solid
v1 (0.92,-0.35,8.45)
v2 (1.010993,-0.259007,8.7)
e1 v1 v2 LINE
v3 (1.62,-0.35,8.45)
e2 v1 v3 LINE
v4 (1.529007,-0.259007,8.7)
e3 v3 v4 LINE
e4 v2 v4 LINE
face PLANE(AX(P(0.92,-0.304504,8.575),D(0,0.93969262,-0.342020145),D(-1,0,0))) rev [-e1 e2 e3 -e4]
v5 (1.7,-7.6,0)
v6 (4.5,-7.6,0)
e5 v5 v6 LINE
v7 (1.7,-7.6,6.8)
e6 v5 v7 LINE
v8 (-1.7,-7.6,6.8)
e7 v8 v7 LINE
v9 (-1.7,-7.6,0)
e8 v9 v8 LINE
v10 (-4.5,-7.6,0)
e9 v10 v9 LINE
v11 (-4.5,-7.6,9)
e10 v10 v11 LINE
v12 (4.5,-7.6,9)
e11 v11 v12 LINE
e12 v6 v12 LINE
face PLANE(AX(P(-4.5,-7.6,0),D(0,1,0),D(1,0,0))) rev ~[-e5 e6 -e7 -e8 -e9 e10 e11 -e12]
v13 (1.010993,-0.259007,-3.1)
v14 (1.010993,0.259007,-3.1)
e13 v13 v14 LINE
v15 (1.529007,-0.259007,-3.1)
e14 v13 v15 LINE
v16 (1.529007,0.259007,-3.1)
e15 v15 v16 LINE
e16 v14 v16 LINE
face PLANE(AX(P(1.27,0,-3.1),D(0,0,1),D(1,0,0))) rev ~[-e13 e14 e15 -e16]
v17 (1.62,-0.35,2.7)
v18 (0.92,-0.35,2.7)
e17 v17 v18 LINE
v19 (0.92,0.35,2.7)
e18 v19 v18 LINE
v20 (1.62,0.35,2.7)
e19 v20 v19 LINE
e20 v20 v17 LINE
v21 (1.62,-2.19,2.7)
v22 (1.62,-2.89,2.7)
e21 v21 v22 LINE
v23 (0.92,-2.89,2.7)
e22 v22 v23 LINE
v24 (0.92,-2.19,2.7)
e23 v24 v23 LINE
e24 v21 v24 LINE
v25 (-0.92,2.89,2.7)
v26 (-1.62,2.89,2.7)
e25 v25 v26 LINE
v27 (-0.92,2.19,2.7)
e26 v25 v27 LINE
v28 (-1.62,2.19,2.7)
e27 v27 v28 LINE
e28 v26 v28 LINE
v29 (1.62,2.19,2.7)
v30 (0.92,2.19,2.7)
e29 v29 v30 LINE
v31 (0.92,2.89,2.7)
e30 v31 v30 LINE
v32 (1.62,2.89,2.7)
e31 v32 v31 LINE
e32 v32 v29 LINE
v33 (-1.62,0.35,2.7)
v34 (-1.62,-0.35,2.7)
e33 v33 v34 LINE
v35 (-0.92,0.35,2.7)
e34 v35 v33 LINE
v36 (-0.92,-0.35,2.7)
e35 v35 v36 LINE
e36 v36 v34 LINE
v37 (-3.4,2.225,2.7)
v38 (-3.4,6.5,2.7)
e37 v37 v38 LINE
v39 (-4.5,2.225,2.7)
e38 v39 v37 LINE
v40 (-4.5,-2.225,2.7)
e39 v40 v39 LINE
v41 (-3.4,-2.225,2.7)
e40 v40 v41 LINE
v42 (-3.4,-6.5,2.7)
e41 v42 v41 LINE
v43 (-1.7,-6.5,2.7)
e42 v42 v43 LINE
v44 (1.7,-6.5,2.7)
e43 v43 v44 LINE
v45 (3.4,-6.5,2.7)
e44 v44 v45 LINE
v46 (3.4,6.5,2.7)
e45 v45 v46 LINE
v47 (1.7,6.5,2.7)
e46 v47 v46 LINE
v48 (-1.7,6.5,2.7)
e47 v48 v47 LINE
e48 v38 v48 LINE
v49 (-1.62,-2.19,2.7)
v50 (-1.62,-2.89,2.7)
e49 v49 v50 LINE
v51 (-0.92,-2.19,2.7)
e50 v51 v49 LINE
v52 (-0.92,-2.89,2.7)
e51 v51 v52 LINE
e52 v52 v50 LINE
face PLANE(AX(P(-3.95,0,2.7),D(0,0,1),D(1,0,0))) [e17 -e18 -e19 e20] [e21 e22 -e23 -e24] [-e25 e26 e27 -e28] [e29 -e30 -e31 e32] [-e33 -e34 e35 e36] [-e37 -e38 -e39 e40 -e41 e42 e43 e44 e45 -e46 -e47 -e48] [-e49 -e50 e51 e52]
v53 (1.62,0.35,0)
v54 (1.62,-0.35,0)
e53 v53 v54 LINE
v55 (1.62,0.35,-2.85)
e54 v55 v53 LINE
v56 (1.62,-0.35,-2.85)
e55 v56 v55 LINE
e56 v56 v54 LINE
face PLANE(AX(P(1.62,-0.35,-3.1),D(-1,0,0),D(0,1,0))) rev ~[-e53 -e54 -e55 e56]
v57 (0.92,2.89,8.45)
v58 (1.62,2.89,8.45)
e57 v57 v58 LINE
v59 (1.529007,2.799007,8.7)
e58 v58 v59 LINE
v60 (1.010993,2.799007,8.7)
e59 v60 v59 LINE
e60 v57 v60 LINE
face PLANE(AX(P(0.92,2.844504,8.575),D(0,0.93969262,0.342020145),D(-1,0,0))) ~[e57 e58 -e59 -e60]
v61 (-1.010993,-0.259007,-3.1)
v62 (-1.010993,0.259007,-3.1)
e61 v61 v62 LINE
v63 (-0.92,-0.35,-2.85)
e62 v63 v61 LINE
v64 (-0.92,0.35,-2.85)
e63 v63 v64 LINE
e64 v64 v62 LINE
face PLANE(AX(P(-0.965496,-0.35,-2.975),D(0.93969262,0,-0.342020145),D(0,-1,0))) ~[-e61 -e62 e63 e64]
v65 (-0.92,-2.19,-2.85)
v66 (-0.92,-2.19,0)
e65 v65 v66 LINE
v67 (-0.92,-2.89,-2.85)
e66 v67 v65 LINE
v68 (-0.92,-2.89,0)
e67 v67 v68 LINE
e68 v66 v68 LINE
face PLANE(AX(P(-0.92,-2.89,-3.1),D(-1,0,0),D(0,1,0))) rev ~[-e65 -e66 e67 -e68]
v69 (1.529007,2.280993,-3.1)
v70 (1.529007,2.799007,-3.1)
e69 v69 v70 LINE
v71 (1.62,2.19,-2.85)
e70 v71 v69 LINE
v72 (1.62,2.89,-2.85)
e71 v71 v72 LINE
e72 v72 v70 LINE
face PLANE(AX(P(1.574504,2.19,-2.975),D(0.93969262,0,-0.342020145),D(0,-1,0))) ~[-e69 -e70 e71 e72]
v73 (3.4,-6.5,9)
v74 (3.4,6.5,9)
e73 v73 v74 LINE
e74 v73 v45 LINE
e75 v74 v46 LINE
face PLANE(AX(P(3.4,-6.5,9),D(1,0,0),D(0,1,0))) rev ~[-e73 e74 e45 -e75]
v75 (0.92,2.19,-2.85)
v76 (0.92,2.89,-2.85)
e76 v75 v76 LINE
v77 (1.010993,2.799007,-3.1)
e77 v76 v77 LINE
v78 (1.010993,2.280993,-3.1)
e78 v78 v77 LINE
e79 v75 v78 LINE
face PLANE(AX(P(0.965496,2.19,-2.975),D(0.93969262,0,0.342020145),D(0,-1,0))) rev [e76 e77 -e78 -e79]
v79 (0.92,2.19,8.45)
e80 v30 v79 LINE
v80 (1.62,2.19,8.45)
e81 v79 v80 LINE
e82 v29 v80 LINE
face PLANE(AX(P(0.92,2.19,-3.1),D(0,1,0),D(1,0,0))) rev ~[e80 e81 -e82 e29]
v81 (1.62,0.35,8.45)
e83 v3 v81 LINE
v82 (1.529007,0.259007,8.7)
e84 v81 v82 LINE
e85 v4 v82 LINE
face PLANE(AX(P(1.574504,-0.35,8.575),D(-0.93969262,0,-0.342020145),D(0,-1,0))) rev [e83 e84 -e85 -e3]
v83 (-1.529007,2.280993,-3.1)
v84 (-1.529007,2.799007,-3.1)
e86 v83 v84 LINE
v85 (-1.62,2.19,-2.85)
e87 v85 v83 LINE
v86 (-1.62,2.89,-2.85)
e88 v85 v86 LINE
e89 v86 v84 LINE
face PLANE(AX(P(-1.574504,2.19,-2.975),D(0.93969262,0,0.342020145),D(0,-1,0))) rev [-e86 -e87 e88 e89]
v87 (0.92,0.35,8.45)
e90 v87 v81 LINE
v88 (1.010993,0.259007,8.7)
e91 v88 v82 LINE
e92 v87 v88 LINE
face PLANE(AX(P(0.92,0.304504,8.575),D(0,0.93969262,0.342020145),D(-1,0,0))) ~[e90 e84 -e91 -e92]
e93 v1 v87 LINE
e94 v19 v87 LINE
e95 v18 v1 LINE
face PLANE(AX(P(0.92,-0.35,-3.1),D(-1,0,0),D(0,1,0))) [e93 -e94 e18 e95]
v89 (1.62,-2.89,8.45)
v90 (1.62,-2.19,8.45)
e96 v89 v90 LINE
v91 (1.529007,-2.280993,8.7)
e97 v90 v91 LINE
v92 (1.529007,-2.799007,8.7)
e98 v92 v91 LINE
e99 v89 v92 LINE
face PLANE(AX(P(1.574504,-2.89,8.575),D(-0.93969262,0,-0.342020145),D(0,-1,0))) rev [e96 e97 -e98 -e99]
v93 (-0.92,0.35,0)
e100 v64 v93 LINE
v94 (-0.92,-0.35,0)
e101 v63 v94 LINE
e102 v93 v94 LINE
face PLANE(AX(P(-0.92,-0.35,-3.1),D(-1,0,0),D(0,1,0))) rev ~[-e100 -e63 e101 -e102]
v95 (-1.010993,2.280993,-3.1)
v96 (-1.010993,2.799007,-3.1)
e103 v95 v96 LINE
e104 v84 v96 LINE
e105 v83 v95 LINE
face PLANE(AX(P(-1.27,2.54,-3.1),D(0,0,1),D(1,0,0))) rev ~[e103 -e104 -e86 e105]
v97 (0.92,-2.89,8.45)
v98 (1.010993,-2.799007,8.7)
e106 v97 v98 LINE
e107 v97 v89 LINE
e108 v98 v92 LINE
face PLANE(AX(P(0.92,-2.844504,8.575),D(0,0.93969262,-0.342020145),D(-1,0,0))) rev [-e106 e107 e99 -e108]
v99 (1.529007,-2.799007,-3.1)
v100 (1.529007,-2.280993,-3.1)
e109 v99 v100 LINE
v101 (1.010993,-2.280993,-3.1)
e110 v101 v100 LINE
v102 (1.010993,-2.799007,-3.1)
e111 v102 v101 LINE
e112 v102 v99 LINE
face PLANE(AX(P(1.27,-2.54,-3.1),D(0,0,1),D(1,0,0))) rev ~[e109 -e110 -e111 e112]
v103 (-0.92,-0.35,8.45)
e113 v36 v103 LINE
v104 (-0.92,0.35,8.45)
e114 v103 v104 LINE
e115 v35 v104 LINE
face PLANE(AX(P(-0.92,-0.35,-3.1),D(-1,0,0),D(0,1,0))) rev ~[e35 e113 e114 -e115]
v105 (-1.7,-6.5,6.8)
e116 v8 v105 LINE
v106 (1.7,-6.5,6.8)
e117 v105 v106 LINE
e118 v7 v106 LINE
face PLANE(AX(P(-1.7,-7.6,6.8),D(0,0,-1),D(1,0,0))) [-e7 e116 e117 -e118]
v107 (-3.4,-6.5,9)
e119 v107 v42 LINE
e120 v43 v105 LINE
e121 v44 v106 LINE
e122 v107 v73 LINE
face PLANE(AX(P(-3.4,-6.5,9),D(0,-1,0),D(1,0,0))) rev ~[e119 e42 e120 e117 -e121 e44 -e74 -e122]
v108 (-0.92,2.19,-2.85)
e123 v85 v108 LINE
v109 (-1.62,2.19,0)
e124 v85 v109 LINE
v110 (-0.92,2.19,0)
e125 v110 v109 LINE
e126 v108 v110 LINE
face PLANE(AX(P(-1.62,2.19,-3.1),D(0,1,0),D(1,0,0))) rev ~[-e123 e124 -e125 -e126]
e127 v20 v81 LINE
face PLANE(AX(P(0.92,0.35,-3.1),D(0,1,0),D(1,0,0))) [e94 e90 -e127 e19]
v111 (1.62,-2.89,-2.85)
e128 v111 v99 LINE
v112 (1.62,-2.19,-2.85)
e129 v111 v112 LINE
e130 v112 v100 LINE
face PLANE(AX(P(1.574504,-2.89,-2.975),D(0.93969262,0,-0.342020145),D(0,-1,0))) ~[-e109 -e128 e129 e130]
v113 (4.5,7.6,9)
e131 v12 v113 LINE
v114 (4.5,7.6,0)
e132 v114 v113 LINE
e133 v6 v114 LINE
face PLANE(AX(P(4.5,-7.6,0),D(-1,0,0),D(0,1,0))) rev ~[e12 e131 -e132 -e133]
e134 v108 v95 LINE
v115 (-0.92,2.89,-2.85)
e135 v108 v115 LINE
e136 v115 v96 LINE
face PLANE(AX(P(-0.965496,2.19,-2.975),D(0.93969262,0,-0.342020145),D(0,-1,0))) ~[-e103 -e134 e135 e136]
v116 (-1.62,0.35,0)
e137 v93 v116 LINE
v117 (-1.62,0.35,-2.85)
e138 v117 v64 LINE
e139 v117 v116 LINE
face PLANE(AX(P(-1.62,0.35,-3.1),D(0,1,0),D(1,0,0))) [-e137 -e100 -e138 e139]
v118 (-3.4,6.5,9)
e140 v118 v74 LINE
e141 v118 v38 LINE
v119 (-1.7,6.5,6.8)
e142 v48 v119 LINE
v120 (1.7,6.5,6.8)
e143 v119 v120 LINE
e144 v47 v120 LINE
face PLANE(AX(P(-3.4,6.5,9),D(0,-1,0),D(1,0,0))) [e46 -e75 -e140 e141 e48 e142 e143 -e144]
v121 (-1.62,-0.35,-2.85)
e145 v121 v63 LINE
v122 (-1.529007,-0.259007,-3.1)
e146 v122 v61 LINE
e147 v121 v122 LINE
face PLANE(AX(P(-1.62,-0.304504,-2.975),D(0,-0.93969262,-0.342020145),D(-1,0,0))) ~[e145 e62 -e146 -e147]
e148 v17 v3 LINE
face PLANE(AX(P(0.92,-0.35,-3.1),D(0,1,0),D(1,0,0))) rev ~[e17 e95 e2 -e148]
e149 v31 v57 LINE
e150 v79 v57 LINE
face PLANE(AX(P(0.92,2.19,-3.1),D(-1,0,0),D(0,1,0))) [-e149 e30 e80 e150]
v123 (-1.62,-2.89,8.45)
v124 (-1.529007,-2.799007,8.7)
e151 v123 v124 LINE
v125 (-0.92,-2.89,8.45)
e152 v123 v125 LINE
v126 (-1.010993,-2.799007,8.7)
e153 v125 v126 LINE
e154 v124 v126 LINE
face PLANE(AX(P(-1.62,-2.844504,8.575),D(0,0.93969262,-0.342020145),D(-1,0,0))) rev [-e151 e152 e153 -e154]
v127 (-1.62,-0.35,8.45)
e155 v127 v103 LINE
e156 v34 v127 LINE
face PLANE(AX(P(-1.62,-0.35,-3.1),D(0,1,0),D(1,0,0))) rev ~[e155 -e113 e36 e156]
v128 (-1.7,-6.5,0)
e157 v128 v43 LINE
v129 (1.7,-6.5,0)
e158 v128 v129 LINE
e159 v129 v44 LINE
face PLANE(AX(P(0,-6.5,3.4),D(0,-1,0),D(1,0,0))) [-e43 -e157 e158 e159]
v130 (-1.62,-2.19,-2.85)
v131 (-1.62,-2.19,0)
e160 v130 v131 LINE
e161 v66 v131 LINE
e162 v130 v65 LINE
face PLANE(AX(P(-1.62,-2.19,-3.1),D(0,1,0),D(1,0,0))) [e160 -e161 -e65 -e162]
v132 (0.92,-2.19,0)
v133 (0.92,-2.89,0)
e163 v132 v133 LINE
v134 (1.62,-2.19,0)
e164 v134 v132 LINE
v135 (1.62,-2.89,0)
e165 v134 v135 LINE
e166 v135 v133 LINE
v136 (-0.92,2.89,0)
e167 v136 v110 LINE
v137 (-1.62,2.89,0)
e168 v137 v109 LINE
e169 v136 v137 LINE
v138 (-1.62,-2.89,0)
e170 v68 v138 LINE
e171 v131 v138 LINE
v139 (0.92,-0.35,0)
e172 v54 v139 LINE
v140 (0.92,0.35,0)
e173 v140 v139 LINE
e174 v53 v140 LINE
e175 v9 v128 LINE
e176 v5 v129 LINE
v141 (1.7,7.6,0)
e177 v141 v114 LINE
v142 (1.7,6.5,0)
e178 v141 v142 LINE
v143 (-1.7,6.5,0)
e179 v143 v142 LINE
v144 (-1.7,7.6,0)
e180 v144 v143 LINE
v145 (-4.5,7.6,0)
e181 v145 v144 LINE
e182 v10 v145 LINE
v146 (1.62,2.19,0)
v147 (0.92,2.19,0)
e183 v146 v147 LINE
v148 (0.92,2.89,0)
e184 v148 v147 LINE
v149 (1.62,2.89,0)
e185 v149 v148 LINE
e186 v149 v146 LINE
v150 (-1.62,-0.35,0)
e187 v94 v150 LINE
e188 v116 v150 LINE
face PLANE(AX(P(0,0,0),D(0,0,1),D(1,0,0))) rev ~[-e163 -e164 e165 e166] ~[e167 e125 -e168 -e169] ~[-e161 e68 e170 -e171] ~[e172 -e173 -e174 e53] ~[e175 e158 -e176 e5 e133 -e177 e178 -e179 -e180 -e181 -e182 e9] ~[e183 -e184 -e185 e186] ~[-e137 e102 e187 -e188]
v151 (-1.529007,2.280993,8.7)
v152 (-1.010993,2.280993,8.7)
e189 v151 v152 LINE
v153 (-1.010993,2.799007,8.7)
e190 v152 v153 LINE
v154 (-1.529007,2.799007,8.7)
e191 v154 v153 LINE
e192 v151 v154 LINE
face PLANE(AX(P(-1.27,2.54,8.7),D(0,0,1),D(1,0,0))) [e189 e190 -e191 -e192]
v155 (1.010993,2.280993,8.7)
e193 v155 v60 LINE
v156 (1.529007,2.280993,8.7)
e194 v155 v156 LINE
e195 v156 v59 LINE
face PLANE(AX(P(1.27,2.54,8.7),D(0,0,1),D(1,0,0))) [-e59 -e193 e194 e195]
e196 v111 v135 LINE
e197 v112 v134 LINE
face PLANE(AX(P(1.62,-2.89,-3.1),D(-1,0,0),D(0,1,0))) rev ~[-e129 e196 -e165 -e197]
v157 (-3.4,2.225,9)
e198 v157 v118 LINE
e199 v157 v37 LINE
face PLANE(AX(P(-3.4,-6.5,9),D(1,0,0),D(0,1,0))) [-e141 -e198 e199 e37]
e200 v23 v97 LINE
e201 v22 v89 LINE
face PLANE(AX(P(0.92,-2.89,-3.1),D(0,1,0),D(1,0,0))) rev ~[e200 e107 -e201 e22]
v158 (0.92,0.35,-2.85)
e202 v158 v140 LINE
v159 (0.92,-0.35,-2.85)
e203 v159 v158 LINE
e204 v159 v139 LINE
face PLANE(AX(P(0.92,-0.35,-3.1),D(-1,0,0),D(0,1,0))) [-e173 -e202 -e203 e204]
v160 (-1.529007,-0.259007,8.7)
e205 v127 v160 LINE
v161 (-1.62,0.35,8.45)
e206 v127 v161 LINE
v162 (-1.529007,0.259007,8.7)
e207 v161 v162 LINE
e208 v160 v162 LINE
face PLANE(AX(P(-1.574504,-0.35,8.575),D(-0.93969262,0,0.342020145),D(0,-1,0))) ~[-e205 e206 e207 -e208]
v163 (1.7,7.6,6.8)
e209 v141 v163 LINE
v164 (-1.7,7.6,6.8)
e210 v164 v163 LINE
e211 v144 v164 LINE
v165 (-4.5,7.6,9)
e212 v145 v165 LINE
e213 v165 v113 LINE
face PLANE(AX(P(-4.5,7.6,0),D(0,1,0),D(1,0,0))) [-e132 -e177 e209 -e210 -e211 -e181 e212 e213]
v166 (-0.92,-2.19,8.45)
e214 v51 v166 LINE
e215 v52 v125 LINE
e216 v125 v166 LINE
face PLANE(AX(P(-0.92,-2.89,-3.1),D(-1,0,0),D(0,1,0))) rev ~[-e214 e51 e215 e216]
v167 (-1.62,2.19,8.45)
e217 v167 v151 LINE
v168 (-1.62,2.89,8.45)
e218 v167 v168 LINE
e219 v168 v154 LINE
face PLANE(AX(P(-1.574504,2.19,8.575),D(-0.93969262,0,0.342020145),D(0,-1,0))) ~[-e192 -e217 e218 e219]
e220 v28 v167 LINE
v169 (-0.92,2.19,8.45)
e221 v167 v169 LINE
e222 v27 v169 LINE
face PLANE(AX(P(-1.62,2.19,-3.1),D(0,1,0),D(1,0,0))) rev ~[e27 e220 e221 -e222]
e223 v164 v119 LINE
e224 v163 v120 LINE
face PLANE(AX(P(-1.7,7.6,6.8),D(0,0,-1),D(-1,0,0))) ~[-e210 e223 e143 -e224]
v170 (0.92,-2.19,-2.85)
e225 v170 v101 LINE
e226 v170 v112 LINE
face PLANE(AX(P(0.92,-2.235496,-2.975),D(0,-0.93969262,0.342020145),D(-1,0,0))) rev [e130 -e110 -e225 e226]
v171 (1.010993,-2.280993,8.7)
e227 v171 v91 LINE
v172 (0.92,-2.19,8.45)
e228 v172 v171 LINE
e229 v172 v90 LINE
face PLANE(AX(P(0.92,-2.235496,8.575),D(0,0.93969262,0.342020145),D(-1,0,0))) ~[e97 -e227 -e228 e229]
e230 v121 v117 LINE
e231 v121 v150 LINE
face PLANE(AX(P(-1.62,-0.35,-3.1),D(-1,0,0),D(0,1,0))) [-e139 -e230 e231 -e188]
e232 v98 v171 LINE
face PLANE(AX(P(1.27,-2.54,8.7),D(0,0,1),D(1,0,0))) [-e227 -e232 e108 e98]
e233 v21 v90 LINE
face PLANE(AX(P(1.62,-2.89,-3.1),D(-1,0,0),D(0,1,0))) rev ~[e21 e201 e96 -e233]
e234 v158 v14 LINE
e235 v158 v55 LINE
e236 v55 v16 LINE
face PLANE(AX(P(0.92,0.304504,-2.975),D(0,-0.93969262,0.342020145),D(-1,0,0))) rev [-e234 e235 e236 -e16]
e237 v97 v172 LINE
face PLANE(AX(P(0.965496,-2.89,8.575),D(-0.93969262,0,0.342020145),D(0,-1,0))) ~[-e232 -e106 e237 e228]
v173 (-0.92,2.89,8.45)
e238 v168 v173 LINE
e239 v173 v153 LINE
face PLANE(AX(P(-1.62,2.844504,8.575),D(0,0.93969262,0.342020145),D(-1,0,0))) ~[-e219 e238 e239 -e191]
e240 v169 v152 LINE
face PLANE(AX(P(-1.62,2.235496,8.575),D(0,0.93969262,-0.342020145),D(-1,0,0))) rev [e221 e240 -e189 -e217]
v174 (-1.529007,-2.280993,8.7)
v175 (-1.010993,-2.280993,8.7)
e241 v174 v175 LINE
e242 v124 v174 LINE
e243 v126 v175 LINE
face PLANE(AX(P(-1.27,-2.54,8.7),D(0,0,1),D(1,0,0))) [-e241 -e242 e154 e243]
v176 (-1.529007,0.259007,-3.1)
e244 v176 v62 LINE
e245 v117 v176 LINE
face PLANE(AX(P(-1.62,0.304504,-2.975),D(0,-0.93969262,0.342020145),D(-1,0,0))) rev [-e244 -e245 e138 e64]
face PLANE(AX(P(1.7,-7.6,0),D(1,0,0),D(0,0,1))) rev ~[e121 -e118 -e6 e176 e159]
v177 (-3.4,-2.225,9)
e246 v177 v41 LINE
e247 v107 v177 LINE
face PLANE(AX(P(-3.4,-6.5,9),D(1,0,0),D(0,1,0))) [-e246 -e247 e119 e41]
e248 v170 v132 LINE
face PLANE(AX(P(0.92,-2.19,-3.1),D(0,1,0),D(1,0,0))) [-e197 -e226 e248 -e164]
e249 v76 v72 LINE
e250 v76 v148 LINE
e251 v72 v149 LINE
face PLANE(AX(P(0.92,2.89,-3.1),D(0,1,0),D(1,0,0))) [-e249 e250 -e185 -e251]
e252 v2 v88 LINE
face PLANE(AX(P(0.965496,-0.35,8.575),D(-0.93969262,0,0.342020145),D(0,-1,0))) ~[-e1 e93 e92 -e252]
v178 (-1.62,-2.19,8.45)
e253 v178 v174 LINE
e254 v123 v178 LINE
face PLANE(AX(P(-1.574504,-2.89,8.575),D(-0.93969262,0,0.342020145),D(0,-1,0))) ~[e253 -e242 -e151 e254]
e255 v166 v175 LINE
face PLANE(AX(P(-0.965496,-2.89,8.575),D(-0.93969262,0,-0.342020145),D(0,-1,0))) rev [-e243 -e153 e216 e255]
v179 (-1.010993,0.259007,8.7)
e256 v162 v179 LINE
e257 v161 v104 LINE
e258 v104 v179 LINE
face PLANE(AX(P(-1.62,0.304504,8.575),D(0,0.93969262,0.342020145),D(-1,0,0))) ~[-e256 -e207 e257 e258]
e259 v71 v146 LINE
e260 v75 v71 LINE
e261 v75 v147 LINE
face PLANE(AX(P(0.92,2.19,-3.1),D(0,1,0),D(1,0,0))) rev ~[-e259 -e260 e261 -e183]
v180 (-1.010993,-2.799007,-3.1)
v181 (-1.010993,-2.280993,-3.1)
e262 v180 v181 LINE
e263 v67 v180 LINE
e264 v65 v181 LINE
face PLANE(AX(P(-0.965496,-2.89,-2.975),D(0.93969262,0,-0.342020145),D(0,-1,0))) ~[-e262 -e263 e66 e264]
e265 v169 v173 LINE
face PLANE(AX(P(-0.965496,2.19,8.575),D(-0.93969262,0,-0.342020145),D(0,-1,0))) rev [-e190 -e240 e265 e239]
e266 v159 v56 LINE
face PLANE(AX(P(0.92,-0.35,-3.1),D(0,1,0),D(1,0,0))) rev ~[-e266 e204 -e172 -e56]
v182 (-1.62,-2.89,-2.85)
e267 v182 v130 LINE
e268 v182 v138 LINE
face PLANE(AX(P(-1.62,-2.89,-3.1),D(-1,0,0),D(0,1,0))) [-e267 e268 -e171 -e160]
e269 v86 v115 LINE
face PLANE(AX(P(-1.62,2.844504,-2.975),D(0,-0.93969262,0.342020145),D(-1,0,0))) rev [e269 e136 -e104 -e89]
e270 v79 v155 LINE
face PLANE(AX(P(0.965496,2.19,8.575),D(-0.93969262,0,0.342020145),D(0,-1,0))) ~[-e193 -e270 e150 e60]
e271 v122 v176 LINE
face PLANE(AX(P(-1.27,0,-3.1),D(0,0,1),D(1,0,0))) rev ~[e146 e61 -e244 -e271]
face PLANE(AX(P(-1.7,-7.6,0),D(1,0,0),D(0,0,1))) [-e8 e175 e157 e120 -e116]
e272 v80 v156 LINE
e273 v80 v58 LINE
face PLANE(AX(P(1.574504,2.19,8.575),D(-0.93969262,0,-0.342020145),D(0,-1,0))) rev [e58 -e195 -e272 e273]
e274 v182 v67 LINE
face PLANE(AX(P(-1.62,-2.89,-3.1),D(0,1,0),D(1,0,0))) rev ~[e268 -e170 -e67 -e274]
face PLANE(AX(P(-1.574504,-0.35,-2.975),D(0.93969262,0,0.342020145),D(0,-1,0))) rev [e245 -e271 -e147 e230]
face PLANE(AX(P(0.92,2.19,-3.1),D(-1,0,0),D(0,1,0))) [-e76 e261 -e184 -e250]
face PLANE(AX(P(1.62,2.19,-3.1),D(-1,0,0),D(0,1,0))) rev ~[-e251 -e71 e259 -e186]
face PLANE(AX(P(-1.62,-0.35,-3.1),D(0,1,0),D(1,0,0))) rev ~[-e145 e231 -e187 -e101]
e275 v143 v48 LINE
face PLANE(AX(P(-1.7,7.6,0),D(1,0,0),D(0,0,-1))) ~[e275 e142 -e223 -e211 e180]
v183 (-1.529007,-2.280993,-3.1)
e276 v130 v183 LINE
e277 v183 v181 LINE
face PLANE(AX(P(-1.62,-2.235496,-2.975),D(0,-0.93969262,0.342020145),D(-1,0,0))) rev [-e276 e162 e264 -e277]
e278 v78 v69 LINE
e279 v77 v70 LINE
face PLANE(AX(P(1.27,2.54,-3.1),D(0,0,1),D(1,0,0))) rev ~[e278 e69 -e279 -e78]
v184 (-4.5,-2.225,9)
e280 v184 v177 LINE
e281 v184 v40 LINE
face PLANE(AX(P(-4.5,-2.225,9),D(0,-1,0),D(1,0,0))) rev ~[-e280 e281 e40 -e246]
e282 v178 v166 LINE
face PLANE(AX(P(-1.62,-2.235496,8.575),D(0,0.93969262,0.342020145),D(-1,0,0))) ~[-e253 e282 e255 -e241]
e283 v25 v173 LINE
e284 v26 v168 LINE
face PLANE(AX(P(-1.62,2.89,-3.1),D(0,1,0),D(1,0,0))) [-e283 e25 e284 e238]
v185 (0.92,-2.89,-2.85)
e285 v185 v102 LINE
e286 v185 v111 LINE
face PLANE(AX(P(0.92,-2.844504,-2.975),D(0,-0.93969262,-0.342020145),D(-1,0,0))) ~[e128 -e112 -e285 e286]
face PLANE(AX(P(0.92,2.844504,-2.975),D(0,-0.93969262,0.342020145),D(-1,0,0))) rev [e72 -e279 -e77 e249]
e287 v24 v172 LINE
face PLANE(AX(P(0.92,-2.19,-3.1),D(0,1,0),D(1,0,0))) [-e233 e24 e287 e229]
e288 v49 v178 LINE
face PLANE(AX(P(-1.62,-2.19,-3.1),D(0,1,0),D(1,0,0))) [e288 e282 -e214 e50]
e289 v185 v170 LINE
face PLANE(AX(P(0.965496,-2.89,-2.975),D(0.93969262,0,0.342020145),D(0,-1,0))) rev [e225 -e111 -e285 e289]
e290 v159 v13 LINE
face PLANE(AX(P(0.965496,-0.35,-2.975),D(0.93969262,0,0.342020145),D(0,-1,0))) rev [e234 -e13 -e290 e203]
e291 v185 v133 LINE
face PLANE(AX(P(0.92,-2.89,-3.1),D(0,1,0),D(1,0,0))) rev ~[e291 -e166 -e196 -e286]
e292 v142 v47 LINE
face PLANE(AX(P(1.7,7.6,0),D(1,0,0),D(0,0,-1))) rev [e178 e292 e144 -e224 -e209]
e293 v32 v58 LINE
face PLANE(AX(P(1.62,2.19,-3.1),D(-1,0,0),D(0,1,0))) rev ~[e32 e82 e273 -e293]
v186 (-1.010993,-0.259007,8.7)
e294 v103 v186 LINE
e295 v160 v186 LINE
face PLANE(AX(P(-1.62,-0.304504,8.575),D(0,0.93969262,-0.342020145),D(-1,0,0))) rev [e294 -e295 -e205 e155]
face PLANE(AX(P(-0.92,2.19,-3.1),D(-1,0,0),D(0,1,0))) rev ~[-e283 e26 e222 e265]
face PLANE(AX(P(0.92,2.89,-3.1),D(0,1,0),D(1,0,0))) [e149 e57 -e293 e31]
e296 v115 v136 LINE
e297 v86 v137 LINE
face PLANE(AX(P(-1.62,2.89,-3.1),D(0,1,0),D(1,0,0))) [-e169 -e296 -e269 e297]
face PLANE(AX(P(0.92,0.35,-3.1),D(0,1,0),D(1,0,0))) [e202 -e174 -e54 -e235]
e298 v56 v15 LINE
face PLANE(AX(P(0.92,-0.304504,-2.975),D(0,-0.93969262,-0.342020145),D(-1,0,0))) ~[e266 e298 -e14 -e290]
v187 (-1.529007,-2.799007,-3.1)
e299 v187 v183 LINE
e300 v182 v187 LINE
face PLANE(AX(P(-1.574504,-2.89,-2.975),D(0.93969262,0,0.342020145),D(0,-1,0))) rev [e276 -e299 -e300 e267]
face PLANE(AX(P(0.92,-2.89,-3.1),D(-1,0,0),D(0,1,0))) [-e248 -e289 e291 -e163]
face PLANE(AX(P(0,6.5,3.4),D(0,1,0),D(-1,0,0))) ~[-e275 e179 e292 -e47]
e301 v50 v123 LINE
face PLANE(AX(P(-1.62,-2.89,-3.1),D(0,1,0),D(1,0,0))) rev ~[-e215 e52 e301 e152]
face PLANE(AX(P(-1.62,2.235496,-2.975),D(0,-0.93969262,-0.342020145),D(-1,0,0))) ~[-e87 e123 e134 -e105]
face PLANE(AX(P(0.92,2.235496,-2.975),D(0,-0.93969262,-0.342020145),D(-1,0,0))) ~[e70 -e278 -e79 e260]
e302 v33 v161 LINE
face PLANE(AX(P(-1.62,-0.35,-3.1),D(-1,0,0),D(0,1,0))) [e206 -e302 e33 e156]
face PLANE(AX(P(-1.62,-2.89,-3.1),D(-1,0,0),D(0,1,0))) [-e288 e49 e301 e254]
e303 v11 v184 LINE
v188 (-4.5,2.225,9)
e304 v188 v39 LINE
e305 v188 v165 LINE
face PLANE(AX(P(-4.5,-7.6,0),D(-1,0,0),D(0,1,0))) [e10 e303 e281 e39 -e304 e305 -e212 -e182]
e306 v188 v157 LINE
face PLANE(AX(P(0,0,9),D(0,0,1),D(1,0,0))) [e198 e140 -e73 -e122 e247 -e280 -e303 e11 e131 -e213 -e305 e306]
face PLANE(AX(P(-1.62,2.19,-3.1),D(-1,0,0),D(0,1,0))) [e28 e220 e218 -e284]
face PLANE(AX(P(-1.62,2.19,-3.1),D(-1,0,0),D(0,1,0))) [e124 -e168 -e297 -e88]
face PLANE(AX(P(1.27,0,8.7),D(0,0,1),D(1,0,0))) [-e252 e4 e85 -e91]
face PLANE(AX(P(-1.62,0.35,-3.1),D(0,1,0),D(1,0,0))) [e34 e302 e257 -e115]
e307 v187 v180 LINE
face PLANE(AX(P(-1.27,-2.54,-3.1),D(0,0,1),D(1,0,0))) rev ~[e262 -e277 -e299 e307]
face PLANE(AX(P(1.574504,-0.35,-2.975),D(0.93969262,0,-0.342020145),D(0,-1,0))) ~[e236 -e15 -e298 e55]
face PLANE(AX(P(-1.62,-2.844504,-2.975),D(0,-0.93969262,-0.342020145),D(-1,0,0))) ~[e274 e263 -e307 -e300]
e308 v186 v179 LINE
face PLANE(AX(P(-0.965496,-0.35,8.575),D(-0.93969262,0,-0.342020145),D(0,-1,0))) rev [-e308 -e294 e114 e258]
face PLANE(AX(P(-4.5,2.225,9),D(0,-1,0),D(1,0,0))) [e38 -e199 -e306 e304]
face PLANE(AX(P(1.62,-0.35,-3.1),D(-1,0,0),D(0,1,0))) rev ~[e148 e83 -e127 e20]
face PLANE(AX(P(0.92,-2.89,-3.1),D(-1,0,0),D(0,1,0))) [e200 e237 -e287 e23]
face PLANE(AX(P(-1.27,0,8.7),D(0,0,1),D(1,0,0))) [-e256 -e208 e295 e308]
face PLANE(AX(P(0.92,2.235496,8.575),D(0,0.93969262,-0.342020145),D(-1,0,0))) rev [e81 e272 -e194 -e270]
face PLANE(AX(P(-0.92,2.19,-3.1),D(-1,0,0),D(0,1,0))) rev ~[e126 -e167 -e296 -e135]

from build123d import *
from OCP.BRepFilletAPI import BRepFilletAPI_MakeChamfer

# Parameters (mm, degrees)
SKETCH1_W            = 9
SKETCH1_H            = 15.2
BOSS_EXTRUDE1_DEPTH  = 9
SKETCH2_W            = 6.8
SKETCH2_H            = 13
CUT_EXTRUDE1_DEPTH   = 6.3
SKETCH3_W            = 1.1
SKETCH3_H            = 4.45
CUT_EXTRUDE2_DEPTH   = 6.3
SKETCH4_W            = 3.4
SKETCH4_H            = 6.8
CUT_EXTRUDE3_DEPTH   = 1.1
BOSS_EXTRUDE2_START  = -5.8
SKETCH5_W            = 0.7
SKETCH5_H            = 0.7
BOSS_EXTRUDE2_DEPTH  = 11.8
LPATTERN1_COUNT      = 2
LPATTERN1_PITCH      = 2.54
LPATTERN1_COUNT_DIR2 = 3
LPATTERN1_PITCH_DIR2 = 2.54
CHAMFER1_SIZE        = 0.25
CHAMFER1_SIZE2       = 0.090992559


with BuildPart() as part:
    # Sketch1 → Boss-Extrude1 (new body)
    with BuildSketch(Plane.XY):
        Rectangle(SKETCH1_W, SKETCH1_H)
    extrude(amount=BOSS_EXTRUDE1_DEPTH)

    # Sketch2 → Cut-Extrude1 (cut)
    with BuildSketch(Plane.XY.offset(9)):
        Rectangle(SKETCH2_W, SKETCH2_H)
    extrude(amount=-CUT_EXTRUDE1_DEPTH, mode=Mode.SUBTRACT)

    # Sketch3 → Cut-Extrude2 (cut)
    with BuildSketch(Plane.XY.offset(9)):
        with Locations((-3.95, 0)):
            Rectangle(SKETCH3_W, SKETCH3_H)
    extrude(amount=-CUT_EXTRUDE2_DEPTH, mode=Mode.SUBTRACT)

    # Sketch4 → Cut-Extrude3 (cut)
    with BuildSketch(Plane.XZ.offset(7.6)):
        with Locations((0, 3.4)):
            Rectangle(SKETCH4_W, SKETCH4_H)
    cut_extrude3 = extrude(amount=-CUT_EXTRUDE3_DEPTH, mode=Mode.SUBTRACT)

    # Mirror1: Cut-Extrude3 across plane
    add(cut_extrude3.mirror(Plane.ZX), mode=Mode.SUBTRACT)

    # Sketch5 → Boss-Extrude2 (add)
    with BuildSketch(Plane.XY.offset(2.7).offset(BOSS_EXTRUDE2_START)):
        with Locations((-1.27, 2.54)):
            Rectangle(SKETCH5_W, SKETCH5_H)
    boss_extrude2 = extrude(amount=BOSS_EXTRUDE2_DEPTH)

    # LPattern1: Boss-Extrude2 2 × 3
    with Locations(*[(i * LPATTERN1_PITCH, -j * LPATTERN1_PITCH_DIR2, 0) for i in range(LPATTERN1_COUNT) for j in range(LPATTERN1_COUNT_DIR2) if (i, j) != (0, 0)]):
        add(boss_extrude2)

    # Chamfer1: one chamfer whose edges measure the first distance from different faces: ONE call of the kernel's chamfer builder (chamfer() names one face for all edges)
    chamfer1_edges_1 = [part.edges().sort_by_distance(p)[0] for p in [
        (-0.92, 0, -3.1),
    ]]
    chamfer1_side_1 = [part.faces().sort_by_distance(p)[0] for p in [
        (-0.92, 0, -1.55),
    ]]
    chamfer1_edges_2 = [part.edges().sort_by_distance(p)[0] for p in [
        (-1.27, -0.35, -3.1),
    ]]
    chamfer1_side_2 = [part.faces().sort_by_distance(p)[0] for p in [
        (-1.27, -0.35, -1.55),
    ]]
    chamfer1_edges_3 = [part.edges().sort_by_distance(p)[0] for p in [
        (-1.62, 0, -3.1),
    ]]
    chamfer1_side_3 = [part.faces().sort_by_distance(p)[0] for p in [
        (-1.62, 0, -1.55),
    ]]
    chamfer1_edges_4 = [part.edges().sort_by_distance(p)[0] for p in [
        (-1.27, 0.35, -3.1),
    ]]
    chamfer1_side_4 = [part.faces().sort_by_distance(p)[0] for p in [
        (-1.27, 0.35, -1.55),
    ]]
    chamfer1_edges_5 = [part.edges().sort_by_distance(p)[0] for p in [
        (-0.92, 0, 8.7),
    ]]
    chamfer1_side_5 = [part.faces().sort_by_distance(p)[0] for p in [
        (-0.92, 0, 5.7),
    ]]
    chamfer1_edges_6 = [part.edges().sort_by_distance(p)[0] for p in [
        (-1.27, 0.35, 8.7),
    ]]
    chamfer1_side_6 = [part.faces().sort_by_distance(p)[0] for p in [
        (-1.27, 0.35, 5.7),
    ]]
    chamfer1_edges_7 = [part.edges().sort_by_distance(p)[0] for p in [
        (-1.62, 0, 8.7),
    ]]
    chamfer1_side_7 = [part.faces().sort_by_distance(p)[0] for p in [
        (-1.62, 0, 5.7),
    ]]
    chamfer1_edges_8 = [part.edges().sort_by_distance(p)[0] for p in [
        (-1.27, -0.35, 8.7),
    ]]
    chamfer1_side_8 = [part.faces().sort_by_distance(p)[0] for p in [
        (-1.27, -0.35, 5.7),
    ]]
    chamfer1_edges_9 = [part.edges().sort_by_distance(p)[0] for p in [
        (-0.92, -2.54, -3.1),
    ]]
    chamfer1_side_9 = [part.faces().sort_by_distance(p)[0] for p in [
        (-0.92, -2.54, -1.55),
    ]]
    chamfer1_edges_10 = [part.edges().sort_by_distance(p)[0] for p in [
        (-1.27, -2.89, -3.1),
    ]]
    chamfer1_side_10 = [part.faces().sort_by_distance(p)[0] for p in [
        (-1.27, -2.89, -1.55),
    ]]
    chamfer1_edges_11 = [part.edges().sort_by_distance(p)[0] for p in [
        (-1.62, -2.54, -3.1),
    ]]
    chamfer1_side_11 = [part.faces().sort_by_distance(p)[0] for p in [
        (-1.62, -2.54, -1.55),
    ]]
    chamfer1_edges_12 = [part.edges().sort_by_distance(p)[0] for p in [
        (-1.27, -2.19, -3.1),
    ]]
    chamfer1_side_12 = [part.faces().sort_by_distance(p)[0] for p in [
        (-1.27, -2.19, -1.55),
    ]]
    chamfer1_edges_13 = [part.edges().sort_by_distance(p)[0] for p in [
        (-0.92, -2.54, 8.7),
    ]]
    chamfer1_side_13 = [part.faces().sort_by_distance(p)[0] for p in [
        (-0.92, -2.54, 5.7),
    ]]
    chamfer1_edges_14 = [part.edges().sort_by_distance(p)[0] for p in [
        (-1.27, -2.19, 8.7),
    ]]
    chamfer1_side_14 = [part.faces().sort_by_distance(p)[0] for p in [
        (-1.27, -2.19, 5.7),
    ]]
    chamfer1_edges_15 = [part.edges().sort_by_distance(p)[0] for p in [
        (-1.62, -2.54, 8.7),
    ]]
    chamfer1_side_15 = [part.faces().sort_by_distance(p)[0] for p in [
        (-1.62, -2.54, 5.7),
    ]]
    chamfer1_edges_16 = [part.edges().sort_by_distance(p)[0] for p in [
        (-1.27, -2.89, 8.7),
    ]]
    chamfer1_side_16 = [part.faces().sort_by_distance(p)[0] for p in [
        (-1.27, -2.89, 5.7),
    ]]
    chamfer1_edges_17 = [part.edges().sort_by_distance(p)[0] for p in [
        (1.62, 2.54, -3.1),
    ]]
    chamfer1_side_17 = [part.faces().sort_by_distance(p)[0] for p in [
        (1.62, 2.54, -1.55),
    ]]
    chamfer1_edges_18 = [part.edges().sort_by_distance(p)[0] for p in [
        (1.27, 2.19, -3.1),
    ]]
    chamfer1_side_18 = [part.faces().sort_by_distance(p)[0] for p in [
        (1.27, 2.19, -1.55),
    ]]
    chamfer1_edges_19 = [part.edges().sort_by_distance(p)[0] for p in [
        (0.92, 2.54, -3.1),
    ]]
    chamfer1_side_19 = [part.faces().sort_by_distance(p)[0] for p in [
        (0.92, 2.54, -1.55),
    ]]
    chamfer1_edges_20 = [part.edges().sort_by_distance(p)[0] for p in [
        (1.27, 2.89, -3.1),
    ]]
    chamfer1_side_20 = [part.faces().sort_by_distance(p)[0] for p in [
        (1.27, 2.89, -1.55),
    ]]
    chamfer1_edges_21 = [part.edges().sort_by_distance(p)[0] for p in [
        (1.62, 2.54, 8.7),
    ]]
    chamfer1_side_21 = [part.faces().sort_by_distance(p)[0] for p in [
        (1.62, 2.54, 5.7),
    ]]
    chamfer1_edges_22 = [part.edges().sort_by_distance(p)[0] for p in [
        (1.27, 2.89, 8.7),
    ]]
    chamfer1_side_22 = [part.faces().sort_by_distance(p)[0] for p in [
        (1.27, 2.89, 5.7),
    ]]
    chamfer1_edges_23 = [part.edges().sort_by_distance(p)[0] for p in [
        (0.92, 2.54, 8.7),
    ]]
    chamfer1_side_23 = [part.faces().sort_by_distance(p)[0] for p in [
        (0.92, 2.54, 5.7),
    ]]
    chamfer1_edges_24 = [part.edges().sort_by_distance(p)[0] for p in [
        (1.27, 2.19, 8.7),
    ]]
    chamfer1_side_24 = [part.faces().sort_by_distance(p)[0] for p in [
        (1.27, 2.19, 5.7),
    ]]
    chamfer1_edges_25 = [part.edges().sort_by_distance(p)[0] for p in [
        (1.62, 0, -3.1),
    ]]
    chamfer1_side_25 = [part.faces().sort_by_distance(p)[0] for p in [
        (1.62, 0, -1.55),
    ]]
    chamfer1_edges_26 = [part.edges().sort_by_distance(p)[0] for p in [
        (1.27, -0.35, -3.1),
    ]]
    chamfer1_side_26 = [part.faces().sort_by_distance(p)[0] for p in [
        (1.27, -0.35, -1.55),
    ]]
    chamfer1_edges_27 = [part.edges().sort_by_distance(p)[0] for p in [
        (0.92, 0, -3.1),
    ]]
    chamfer1_side_27 = [part.faces().sort_by_distance(p)[0] for p in [
        (0.92, 0, -1.55),
    ]]
    chamfer1_edges_28 = [part.edges().sort_by_distance(p)[0] for p in [
        (1.27, 0.35, -3.1),
    ]]
    chamfer1_side_28 = [part.faces().sort_by_distance(p)[0] for p in [
        (1.27, 0.35, -1.55),
    ]]
    chamfer1_edges_29 = [part.edges().sort_by_distance(p)[0] for p in [
        (1.62, 0, 8.7),
    ]]
    chamfer1_side_29 = [part.faces().sort_by_distance(p)[0] for p in [
        (1.62, 0, 5.7),
    ]]
    chamfer1_edges_30 = [part.edges().sort_by_distance(p)[0] for p in [
        (1.27, 0.35, 8.7),
    ]]
    chamfer1_side_30 = [part.faces().sort_by_distance(p)[0] for p in [
        (1.27, 0.35, 5.7),
    ]]
    chamfer1_edges_31 = [part.edges().sort_by_distance(p)[0] for p in [
        (0.92, 0, 8.7),
    ]]
    chamfer1_side_31 = [part.faces().sort_by_distance(p)[0] for p in [
        (0.92, 0, 5.7),
    ]]
    chamfer1_edges_32 = [part.edges().sort_by_distance(p)[0] for p in [
        (1.27, -0.35, 8.7),
    ]]
    chamfer1_side_32 = [part.faces().sort_by_distance(p)[0] for p in [
        (1.27, -0.35, 5.7),
    ]]
    chamfer1_edges_33 = [part.edges().sort_by_distance(p)[0] for p in [
        (1.62, -2.54, -3.1),
    ]]
    chamfer1_side_33 = [part.faces().sort_by_distance(p)[0] for p in [
        (1.62, -2.54, -1.55),
    ]]
    chamfer1_edges_34 = [part.edges().sort_by_distance(p)[0] for p in [
        (1.27, -2.89, -3.1),
    ]]
    chamfer1_side_34 = [part.faces().sort_by_distance(p)[0] for p in [
        (1.27, -2.89, -1.55),
    ]]
    chamfer1_edges_35 = [part.edges().sort_by_distance(p)[0] for p in [
        (0.92, -2.54, -3.1),
    ]]
    chamfer1_side_35 = [part.faces().sort_by_distance(p)[0] for p in [
        (0.92, -2.54, -1.55),
    ]]
    chamfer1_edges_36 = [part.edges().sort_by_distance(p)[0] for p in [
        (1.27, -2.19, -3.1),
    ]]
    chamfer1_side_36 = [part.faces().sort_by_distance(p)[0] for p in [
        (1.27, -2.19, -1.55),
    ]]
    chamfer1_edges_37 = [part.edges().sort_by_distance(p)[0] for p in [
        (1.62, -2.54, 8.7),
    ]]
    chamfer1_side_37 = [part.faces().sort_by_distance(p)[0] for p in [
        (1.62, -2.54, 5.7),
    ]]
    chamfer1_edges_38 = [part.edges().sort_by_distance(p)[0] for p in [
        (1.27, -2.19, 8.7),
    ]]
    chamfer1_side_38 = [part.faces().sort_by_distance(p)[0] for p in [
        (1.27, -2.19, 5.7),
    ]]
    chamfer1_edges_39 = [part.edges().sort_by_distance(p)[0] for p in [
        (0.92, -2.54, 8.7),
    ]]
    chamfer1_side_39 = [part.faces().sort_by_distance(p)[0] for p in [
        (0.92, -2.54, 5.7),
    ]]
    chamfer1_edges_40 = [part.edges().sort_by_distance(p)[0] for p in [
        (1.27, -2.89, 8.7),
    ]]
    chamfer1_side_40 = [part.faces().sort_by_distance(p)[0] for p in [
        (1.27, -2.89, 5.7),
    ]]
    chamfer1_edges_41 = [part.edges().sort_by_distance(p)[0] for p in [
        (-0.92, 2.54, -3.1),
    ]]
    chamfer1_side_41 = [part.faces().sort_by_distance(p)[0] for p in [
        (-0.92, 2.54, -1.55),
    ]]
    chamfer1_edges_42 = [part.edges().sort_by_distance(p)[0] for p in [
        (-1.27, 2.19, -3.1),
    ]]
    chamfer1_side_42 = [part.faces().sort_by_distance(p)[0] for p in [
        (-1.27, 2.19, -1.55),
    ]]
    chamfer1_edges_43 = [part.edges().sort_by_distance(p)[0] for p in [
        (-1.62, 2.54, -3.1),
    ]]
    chamfer1_side_43 = [part.faces().sort_by_distance(p)[0] for p in [
        (-1.62, 2.54, -1.55),
    ]]
    chamfer1_edges_44 = [part.edges().sort_by_distance(p)[0] for p in [
        (-1.27, 2.89, -3.1),
    ]]
    chamfer1_side_44 = [part.faces().sort_by_distance(p)[0] for p in [
        (-1.27, 2.89, -1.55),
    ]]
    chamfer1_edges_45 = [part.edges().sort_by_distance(p)[0] for p in [
        (-0.92, 2.54, 8.7),
    ]]
    chamfer1_side_45 = [part.faces().sort_by_distance(p)[0] for p in [
        (-0.92, 2.54, 5.7),
    ]]
    chamfer1_edges_46 = [part.edges().sort_by_distance(p)[0] for p in [
        (-1.27, 2.89, 8.7),
    ]]
    chamfer1_side_46 = [part.faces().sort_by_distance(p)[0] for p in [
        (-1.27, 2.89, 5.7),
    ]]
    chamfer1_edges_47 = [part.edges().sort_by_distance(p)[0] for p in [
        (-1.62, 2.54, 8.7),
    ]]
    chamfer1_side_47 = [part.faces().sort_by_distance(p)[0] for p in [
        (-1.62, 2.54, 5.7),
    ]]
    chamfer1_edges_48 = [part.edges().sort_by_distance(p)[0] for p in [
        (-1.27, 2.19, 8.7),
    ]]
    chamfer1_side_48 = [part.faces().sort_by_distance(p)[0] for p in [
        (-1.27, 2.19, 5.7),
    ]]
    chamfer1 = BRepFilletAPI_MakeChamfer(part.part.solid().wrapped)
    for e in chamfer1_edges_1:
        chamfer1.Add(CHAMFER1_SIZE, CHAMFER1_SIZE2, e.wrapped, chamfer1_side_1[0].wrapped)  # the first distance lies on this face
    for e in chamfer1_edges_2:
        chamfer1.Add(CHAMFER1_SIZE, CHAMFER1_SIZE2, e.wrapped, chamfer1_side_2[0].wrapped)  # the first distance lies on this face
    for e in chamfer1_edges_3:
        chamfer1.Add(CHAMFER1_SIZE, CHAMFER1_SIZE2, e.wrapped, chamfer1_side_3[0].wrapped)  # the first distance lies on this face
    for e in chamfer1_edges_4:
        chamfer1.Add(CHAMFER1_SIZE, CHAMFER1_SIZE2, e.wrapped, chamfer1_side_4[0].wrapped)  # the first distance lies on this face
    for e in chamfer1_edges_5:
        chamfer1.Add(CHAMFER1_SIZE, CHAMFER1_SIZE2, e.wrapped, chamfer1_side_5[0].wrapped)  # the first distance lies on this face
    for e in chamfer1_edges_6:
        chamfer1.Add(CHAMFER1_SIZE, CHAMFER1_SIZE2, e.wrapped, chamfer1_side_6[0].wrapped)  # the first distance lies on this face
    for e in chamfer1_edges_7:
        chamfer1.Add(CHAMFER1_SIZE, CHAMFER1_SIZE2, e.wrapped, chamfer1_side_7[0].wrapped)  # the first distance lies on this face
    for e in chamfer1_edges_8:
        chamfer1.Add(CHAMFER1_SIZE, CHAMFER1_SIZE2, e.wrapped, chamfer1_side_8[0].wrapped)  # the first distance lies on this face
    for e in chamfer1_edges_9:
        chamfer1.Add(CHAMFER1_SIZE, CHAMFER1_SIZE2, e.wrapped, chamfer1_side_9[0].wrapped)  # the first distance lies on this face
    for e in chamfer1_edges_10:
        chamfer1.Add(CHAMFER1_SIZE, CHAMFER1_SIZE2, e.wrapped, chamfer1_side_10[0].wrapped)  # the first distance lies on this face
    for e in chamfer1_edges_11:
        chamfer1.Add(CHAMFER1_SIZE, CHAMFER1_SIZE2, e.wrapped, chamfer1_side_11[0].wrapped)  # the first distance lies on this face
    for e in chamfer1_edges_12:
        chamfer1.Add(CHAMFER1_SIZE, CHAMFER1_SIZE2, e.wrapped, chamfer1_side_12[0].wrapped)  # the first distance lies on this face
    for e in chamfer1_edges_13:
        chamfer1.Add(CHAMFER1_SIZE, CHAMFER1_SIZE2, e.wrapped, chamfer1_side_13[0].wrapped)  # the first distance lies on this face
    for e in chamfer1_edges_14:
        chamfer1.Add(CHAMFER1_SIZE, CHAMFER1_SIZE2, e.wrapped, chamfer1_side_14[0].wrapped)  # the first distance lies on this face
    for e in chamfer1_edges_15:
        chamfer1.Add(CHAMFER1_SIZE, CHAMFER1_SIZE2, e.wrapped, chamfer1_side_15[0].wrapped)  # the first distance lies on this face
    for e in chamfer1_edges_16:
        chamfer1.Add(CHAMFER1_SIZE, CHAMFER1_SIZE2, e.wrapped, chamfer1_side_16[0].wrapped)  # the first distance lies on this face
    for e in chamfer1_edges_17:
        chamfer1.Add(CHAMFER1_SIZE, CHAMFER1_SIZE2, e.wrapped, chamfer1_side_17[0].wrapped)  # the first distance lies on this face
    for e in chamfer1_edges_18:
        chamfer1.Add(CHAMFER1_SIZE, CHAMFER1_SIZE2, e.wrapped, chamfer1_side_18[0].wrapped)  # the first distance lies on this face
    for e in chamfer1_edges_19:
        chamfer1.Add(CHAMFER1_SIZE, CHAMFER1_SIZE2, e.wrapped, chamfer1_side_19[0].wrapped)  # the first distance lies on this face
    for e in chamfer1_edges_20:
        chamfer1.Add(CHAMFER1_SIZE, CHAMFER1_SIZE2, e.wrapped, chamfer1_side_20[0].wrapped)  # the first distance lies on this face
    for e in chamfer1_edges_21:
        chamfer1.Add(CHAMFER1_SIZE, CHAMFER1_SIZE2, e.wrapped, chamfer1_side_21[0].wrapped)  # the first distance lies on this face
    for e in chamfer1_edges_22:
        chamfer1.Add(CHAMFER1_SIZE, CHAMFER1_SIZE2, e.wrapped, chamfer1_side_22[0].wrapped)  # the first distance lies on this face
    for e in chamfer1_edges_23:
        chamfer1.Add(CHAMFER1_SIZE, CHAMFER1_SIZE2, e.wrapped, chamfer1_side_23[0].wrapped)  # the first distance lies on this face
    for e in chamfer1_edges_24:
        chamfer1.Add(CHAMFER1_SIZE, CHAMFER1_SIZE2, e.wrapped, chamfer1_side_24[0].wrapped)  # the first distance lies on this face
    for e in chamfer1_edges_25:
        chamfer1.Add(CHAMFER1_SIZE, CHAMFER1_SIZE2, e.wrapped, chamfer1_side_25[0].wrapped)  # the first distance lies on this face
    for e in chamfer1_edges_26:
        chamfer1.Add(CHAMFER1_SIZE, CHAMFER1_SIZE2, e.wrapped, chamfer1_side_26[0].wrapped)  # the first distance lies on this face
    for e in chamfer1_edges_27:
        chamfer1.Add(CHAMFER1_SIZE, CHAMFER1_SIZE2, e.wrapped, chamfer1_side_27[0].wrapped)  # the first distance lies on this face
    for e in chamfer1_edges_28:
        chamfer1.Add(CHAMFER1_SIZE, CHAMFER1_SIZE2, e.wrapped, chamfer1_side_28[0].wrapped)  # the first distance lies on this face
    for e in chamfer1_edges_29:
        chamfer1.Add(CHAMFER1_SIZE, CHAMFER1_SIZE2, e.wrapped, chamfer1_side_29[0].wrapped)  # the first distance lies on this face
    for e in chamfer1_edges_30:
        chamfer1.Add(CHAMFER1_SIZE, CHAMFER1_SIZE2, e.wrapped, chamfer1_side_30[0].wrapped)  # the first distance lies on this face
    for e in chamfer1_edges_31:
        chamfer1.Add(CHAMFER1_SIZE, CHAMFER1_SIZE2, e.wrapped, chamfer1_side_31[0].wrapped)  # the first distance lies on this face
    for e in chamfer1_edges_32:
        chamfer1.Add(CHAMFER1_SIZE, CHAMFER1_SIZE2, e.wrapped, chamfer1_side_32[0].wrapped)  # the first distance lies on this face
    for e in chamfer1_edges_33:
        chamfer1.Add(CHAMFER1_SIZE, CHAMFER1_SIZE2, e.wrapped, chamfer1_side_33[0].wrapped)  # the first distance lies on this face
    for e in chamfer1_edges_34:
        chamfer1.Add(CHAMFER1_SIZE, CHAMFER1_SIZE2, e.wrapped, chamfer1_side_34[0].wrapped)  # the first distance lies on this face
    for e in chamfer1_edges_35:
        chamfer1.Add(CHAMFER1_SIZE, CHAMFER1_SIZE2, e.wrapped, chamfer1_side_35[0].wrapped)  # the first distance lies on this face
    for e in chamfer1_edges_36:
        chamfer1.Add(CHAMFER1_SIZE, CHAMFER1_SIZE2, e.wrapped, chamfer1_side_36[0].wrapped)  # the first distance lies on this face
    for e in chamfer1_edges_37:
        chamfer1.Add(CHAMFER1_SIZE, CHAMFER1_SIZE2, e.wrapped, chamfer1_side_37[0].wrapped)  # the first distance lies on this face
    for e in chamfer1_edges_38:
        chamfer1.Add(CHAMFER1_SIZE, CHAMFER1_SIZE2, e.wrapped, chamfer1_side_38[0].wrapped)  # the first distance lies on this face
    for e in chamfer1_edges_39:
        chamfer1.Add(CHAMFER1_SIZE, CHAMFER1_SIZE2, e.wrapped, chamfer1_side_39[0].wrapped)  # the first distance lies on this face
    for e in chamfer1_edges_40:
        chamfer1.Add(CHAMFER1_SIZE, CHAMFER1_SIZE2, e.wrapped, chamfer1_side_40[0].wrapped)  # the first distance lies on this face
    for e in chamfer1_edges_41:
        chamfer1.Add(CHAMFER1_SIZE, CHAMFER1_SIZE2, e.wrapped, chamfer1_side_41[0].wrapped)  # the first distance lies on this face
    for e in chamfer1_edges_42:
        chamfer1.Add(CHAMFER1_SIZE, CHAMFER1_SIZE2, e.wrapped, chamfer1_side_42[0].wrapped)  # the first distance lies on this face
    for e in chamfer1_edges_43:
        chamfer1.Add(CHAMFER1_SIZE, CHAMFER1_SIZE2, e.wrapped, chamfer1_side_43[0].wrapped)  # the first distance lies on this face
    for e in chamfer1_edges_44:
        chamfer1.Add(CHAMFER1_SIZE, CHAMFER1_SIZE2, e.wrapped, chamfer1_side_44[0].wrapped)  # the first distance lies on this face
    for e in chamfer1_edges_45:
        chamfer1.Add(CHAMFER1_SIZE, CHAMFER1_SIZE2, e.wrapped, chamfer1_side_45[0].wrapped)  # the first distance lies on this face
    for e in chamfer1_edges_46:
        chamfer1.Add(CHAMFER1_SIZE, CHAMFER1_SIZE2, e.wrapped, chamfer1_side_46[0].wrapped)  # the first distance lies on this face
    for e in chamfer1_edges_47:
        chamfer1.Add(CHAMFER1_SIZE, CHAMFER1_SIZE2, e.wrapped, chamfer1_side_47[0].wrapped)  # the first distance lies on this face
    for e in chamfer1_edges_48:
        chamfer1.Add(CHAMFER1_SIZE, CHAMFER1_SIZE2, e.wrapped, chamfer1_side_48[0].wrapped)  # the first distance lies on this face
    add(Compound.cast(chamfer1.Shape()), mode=Mode.REPLACE)


solid = part.part
